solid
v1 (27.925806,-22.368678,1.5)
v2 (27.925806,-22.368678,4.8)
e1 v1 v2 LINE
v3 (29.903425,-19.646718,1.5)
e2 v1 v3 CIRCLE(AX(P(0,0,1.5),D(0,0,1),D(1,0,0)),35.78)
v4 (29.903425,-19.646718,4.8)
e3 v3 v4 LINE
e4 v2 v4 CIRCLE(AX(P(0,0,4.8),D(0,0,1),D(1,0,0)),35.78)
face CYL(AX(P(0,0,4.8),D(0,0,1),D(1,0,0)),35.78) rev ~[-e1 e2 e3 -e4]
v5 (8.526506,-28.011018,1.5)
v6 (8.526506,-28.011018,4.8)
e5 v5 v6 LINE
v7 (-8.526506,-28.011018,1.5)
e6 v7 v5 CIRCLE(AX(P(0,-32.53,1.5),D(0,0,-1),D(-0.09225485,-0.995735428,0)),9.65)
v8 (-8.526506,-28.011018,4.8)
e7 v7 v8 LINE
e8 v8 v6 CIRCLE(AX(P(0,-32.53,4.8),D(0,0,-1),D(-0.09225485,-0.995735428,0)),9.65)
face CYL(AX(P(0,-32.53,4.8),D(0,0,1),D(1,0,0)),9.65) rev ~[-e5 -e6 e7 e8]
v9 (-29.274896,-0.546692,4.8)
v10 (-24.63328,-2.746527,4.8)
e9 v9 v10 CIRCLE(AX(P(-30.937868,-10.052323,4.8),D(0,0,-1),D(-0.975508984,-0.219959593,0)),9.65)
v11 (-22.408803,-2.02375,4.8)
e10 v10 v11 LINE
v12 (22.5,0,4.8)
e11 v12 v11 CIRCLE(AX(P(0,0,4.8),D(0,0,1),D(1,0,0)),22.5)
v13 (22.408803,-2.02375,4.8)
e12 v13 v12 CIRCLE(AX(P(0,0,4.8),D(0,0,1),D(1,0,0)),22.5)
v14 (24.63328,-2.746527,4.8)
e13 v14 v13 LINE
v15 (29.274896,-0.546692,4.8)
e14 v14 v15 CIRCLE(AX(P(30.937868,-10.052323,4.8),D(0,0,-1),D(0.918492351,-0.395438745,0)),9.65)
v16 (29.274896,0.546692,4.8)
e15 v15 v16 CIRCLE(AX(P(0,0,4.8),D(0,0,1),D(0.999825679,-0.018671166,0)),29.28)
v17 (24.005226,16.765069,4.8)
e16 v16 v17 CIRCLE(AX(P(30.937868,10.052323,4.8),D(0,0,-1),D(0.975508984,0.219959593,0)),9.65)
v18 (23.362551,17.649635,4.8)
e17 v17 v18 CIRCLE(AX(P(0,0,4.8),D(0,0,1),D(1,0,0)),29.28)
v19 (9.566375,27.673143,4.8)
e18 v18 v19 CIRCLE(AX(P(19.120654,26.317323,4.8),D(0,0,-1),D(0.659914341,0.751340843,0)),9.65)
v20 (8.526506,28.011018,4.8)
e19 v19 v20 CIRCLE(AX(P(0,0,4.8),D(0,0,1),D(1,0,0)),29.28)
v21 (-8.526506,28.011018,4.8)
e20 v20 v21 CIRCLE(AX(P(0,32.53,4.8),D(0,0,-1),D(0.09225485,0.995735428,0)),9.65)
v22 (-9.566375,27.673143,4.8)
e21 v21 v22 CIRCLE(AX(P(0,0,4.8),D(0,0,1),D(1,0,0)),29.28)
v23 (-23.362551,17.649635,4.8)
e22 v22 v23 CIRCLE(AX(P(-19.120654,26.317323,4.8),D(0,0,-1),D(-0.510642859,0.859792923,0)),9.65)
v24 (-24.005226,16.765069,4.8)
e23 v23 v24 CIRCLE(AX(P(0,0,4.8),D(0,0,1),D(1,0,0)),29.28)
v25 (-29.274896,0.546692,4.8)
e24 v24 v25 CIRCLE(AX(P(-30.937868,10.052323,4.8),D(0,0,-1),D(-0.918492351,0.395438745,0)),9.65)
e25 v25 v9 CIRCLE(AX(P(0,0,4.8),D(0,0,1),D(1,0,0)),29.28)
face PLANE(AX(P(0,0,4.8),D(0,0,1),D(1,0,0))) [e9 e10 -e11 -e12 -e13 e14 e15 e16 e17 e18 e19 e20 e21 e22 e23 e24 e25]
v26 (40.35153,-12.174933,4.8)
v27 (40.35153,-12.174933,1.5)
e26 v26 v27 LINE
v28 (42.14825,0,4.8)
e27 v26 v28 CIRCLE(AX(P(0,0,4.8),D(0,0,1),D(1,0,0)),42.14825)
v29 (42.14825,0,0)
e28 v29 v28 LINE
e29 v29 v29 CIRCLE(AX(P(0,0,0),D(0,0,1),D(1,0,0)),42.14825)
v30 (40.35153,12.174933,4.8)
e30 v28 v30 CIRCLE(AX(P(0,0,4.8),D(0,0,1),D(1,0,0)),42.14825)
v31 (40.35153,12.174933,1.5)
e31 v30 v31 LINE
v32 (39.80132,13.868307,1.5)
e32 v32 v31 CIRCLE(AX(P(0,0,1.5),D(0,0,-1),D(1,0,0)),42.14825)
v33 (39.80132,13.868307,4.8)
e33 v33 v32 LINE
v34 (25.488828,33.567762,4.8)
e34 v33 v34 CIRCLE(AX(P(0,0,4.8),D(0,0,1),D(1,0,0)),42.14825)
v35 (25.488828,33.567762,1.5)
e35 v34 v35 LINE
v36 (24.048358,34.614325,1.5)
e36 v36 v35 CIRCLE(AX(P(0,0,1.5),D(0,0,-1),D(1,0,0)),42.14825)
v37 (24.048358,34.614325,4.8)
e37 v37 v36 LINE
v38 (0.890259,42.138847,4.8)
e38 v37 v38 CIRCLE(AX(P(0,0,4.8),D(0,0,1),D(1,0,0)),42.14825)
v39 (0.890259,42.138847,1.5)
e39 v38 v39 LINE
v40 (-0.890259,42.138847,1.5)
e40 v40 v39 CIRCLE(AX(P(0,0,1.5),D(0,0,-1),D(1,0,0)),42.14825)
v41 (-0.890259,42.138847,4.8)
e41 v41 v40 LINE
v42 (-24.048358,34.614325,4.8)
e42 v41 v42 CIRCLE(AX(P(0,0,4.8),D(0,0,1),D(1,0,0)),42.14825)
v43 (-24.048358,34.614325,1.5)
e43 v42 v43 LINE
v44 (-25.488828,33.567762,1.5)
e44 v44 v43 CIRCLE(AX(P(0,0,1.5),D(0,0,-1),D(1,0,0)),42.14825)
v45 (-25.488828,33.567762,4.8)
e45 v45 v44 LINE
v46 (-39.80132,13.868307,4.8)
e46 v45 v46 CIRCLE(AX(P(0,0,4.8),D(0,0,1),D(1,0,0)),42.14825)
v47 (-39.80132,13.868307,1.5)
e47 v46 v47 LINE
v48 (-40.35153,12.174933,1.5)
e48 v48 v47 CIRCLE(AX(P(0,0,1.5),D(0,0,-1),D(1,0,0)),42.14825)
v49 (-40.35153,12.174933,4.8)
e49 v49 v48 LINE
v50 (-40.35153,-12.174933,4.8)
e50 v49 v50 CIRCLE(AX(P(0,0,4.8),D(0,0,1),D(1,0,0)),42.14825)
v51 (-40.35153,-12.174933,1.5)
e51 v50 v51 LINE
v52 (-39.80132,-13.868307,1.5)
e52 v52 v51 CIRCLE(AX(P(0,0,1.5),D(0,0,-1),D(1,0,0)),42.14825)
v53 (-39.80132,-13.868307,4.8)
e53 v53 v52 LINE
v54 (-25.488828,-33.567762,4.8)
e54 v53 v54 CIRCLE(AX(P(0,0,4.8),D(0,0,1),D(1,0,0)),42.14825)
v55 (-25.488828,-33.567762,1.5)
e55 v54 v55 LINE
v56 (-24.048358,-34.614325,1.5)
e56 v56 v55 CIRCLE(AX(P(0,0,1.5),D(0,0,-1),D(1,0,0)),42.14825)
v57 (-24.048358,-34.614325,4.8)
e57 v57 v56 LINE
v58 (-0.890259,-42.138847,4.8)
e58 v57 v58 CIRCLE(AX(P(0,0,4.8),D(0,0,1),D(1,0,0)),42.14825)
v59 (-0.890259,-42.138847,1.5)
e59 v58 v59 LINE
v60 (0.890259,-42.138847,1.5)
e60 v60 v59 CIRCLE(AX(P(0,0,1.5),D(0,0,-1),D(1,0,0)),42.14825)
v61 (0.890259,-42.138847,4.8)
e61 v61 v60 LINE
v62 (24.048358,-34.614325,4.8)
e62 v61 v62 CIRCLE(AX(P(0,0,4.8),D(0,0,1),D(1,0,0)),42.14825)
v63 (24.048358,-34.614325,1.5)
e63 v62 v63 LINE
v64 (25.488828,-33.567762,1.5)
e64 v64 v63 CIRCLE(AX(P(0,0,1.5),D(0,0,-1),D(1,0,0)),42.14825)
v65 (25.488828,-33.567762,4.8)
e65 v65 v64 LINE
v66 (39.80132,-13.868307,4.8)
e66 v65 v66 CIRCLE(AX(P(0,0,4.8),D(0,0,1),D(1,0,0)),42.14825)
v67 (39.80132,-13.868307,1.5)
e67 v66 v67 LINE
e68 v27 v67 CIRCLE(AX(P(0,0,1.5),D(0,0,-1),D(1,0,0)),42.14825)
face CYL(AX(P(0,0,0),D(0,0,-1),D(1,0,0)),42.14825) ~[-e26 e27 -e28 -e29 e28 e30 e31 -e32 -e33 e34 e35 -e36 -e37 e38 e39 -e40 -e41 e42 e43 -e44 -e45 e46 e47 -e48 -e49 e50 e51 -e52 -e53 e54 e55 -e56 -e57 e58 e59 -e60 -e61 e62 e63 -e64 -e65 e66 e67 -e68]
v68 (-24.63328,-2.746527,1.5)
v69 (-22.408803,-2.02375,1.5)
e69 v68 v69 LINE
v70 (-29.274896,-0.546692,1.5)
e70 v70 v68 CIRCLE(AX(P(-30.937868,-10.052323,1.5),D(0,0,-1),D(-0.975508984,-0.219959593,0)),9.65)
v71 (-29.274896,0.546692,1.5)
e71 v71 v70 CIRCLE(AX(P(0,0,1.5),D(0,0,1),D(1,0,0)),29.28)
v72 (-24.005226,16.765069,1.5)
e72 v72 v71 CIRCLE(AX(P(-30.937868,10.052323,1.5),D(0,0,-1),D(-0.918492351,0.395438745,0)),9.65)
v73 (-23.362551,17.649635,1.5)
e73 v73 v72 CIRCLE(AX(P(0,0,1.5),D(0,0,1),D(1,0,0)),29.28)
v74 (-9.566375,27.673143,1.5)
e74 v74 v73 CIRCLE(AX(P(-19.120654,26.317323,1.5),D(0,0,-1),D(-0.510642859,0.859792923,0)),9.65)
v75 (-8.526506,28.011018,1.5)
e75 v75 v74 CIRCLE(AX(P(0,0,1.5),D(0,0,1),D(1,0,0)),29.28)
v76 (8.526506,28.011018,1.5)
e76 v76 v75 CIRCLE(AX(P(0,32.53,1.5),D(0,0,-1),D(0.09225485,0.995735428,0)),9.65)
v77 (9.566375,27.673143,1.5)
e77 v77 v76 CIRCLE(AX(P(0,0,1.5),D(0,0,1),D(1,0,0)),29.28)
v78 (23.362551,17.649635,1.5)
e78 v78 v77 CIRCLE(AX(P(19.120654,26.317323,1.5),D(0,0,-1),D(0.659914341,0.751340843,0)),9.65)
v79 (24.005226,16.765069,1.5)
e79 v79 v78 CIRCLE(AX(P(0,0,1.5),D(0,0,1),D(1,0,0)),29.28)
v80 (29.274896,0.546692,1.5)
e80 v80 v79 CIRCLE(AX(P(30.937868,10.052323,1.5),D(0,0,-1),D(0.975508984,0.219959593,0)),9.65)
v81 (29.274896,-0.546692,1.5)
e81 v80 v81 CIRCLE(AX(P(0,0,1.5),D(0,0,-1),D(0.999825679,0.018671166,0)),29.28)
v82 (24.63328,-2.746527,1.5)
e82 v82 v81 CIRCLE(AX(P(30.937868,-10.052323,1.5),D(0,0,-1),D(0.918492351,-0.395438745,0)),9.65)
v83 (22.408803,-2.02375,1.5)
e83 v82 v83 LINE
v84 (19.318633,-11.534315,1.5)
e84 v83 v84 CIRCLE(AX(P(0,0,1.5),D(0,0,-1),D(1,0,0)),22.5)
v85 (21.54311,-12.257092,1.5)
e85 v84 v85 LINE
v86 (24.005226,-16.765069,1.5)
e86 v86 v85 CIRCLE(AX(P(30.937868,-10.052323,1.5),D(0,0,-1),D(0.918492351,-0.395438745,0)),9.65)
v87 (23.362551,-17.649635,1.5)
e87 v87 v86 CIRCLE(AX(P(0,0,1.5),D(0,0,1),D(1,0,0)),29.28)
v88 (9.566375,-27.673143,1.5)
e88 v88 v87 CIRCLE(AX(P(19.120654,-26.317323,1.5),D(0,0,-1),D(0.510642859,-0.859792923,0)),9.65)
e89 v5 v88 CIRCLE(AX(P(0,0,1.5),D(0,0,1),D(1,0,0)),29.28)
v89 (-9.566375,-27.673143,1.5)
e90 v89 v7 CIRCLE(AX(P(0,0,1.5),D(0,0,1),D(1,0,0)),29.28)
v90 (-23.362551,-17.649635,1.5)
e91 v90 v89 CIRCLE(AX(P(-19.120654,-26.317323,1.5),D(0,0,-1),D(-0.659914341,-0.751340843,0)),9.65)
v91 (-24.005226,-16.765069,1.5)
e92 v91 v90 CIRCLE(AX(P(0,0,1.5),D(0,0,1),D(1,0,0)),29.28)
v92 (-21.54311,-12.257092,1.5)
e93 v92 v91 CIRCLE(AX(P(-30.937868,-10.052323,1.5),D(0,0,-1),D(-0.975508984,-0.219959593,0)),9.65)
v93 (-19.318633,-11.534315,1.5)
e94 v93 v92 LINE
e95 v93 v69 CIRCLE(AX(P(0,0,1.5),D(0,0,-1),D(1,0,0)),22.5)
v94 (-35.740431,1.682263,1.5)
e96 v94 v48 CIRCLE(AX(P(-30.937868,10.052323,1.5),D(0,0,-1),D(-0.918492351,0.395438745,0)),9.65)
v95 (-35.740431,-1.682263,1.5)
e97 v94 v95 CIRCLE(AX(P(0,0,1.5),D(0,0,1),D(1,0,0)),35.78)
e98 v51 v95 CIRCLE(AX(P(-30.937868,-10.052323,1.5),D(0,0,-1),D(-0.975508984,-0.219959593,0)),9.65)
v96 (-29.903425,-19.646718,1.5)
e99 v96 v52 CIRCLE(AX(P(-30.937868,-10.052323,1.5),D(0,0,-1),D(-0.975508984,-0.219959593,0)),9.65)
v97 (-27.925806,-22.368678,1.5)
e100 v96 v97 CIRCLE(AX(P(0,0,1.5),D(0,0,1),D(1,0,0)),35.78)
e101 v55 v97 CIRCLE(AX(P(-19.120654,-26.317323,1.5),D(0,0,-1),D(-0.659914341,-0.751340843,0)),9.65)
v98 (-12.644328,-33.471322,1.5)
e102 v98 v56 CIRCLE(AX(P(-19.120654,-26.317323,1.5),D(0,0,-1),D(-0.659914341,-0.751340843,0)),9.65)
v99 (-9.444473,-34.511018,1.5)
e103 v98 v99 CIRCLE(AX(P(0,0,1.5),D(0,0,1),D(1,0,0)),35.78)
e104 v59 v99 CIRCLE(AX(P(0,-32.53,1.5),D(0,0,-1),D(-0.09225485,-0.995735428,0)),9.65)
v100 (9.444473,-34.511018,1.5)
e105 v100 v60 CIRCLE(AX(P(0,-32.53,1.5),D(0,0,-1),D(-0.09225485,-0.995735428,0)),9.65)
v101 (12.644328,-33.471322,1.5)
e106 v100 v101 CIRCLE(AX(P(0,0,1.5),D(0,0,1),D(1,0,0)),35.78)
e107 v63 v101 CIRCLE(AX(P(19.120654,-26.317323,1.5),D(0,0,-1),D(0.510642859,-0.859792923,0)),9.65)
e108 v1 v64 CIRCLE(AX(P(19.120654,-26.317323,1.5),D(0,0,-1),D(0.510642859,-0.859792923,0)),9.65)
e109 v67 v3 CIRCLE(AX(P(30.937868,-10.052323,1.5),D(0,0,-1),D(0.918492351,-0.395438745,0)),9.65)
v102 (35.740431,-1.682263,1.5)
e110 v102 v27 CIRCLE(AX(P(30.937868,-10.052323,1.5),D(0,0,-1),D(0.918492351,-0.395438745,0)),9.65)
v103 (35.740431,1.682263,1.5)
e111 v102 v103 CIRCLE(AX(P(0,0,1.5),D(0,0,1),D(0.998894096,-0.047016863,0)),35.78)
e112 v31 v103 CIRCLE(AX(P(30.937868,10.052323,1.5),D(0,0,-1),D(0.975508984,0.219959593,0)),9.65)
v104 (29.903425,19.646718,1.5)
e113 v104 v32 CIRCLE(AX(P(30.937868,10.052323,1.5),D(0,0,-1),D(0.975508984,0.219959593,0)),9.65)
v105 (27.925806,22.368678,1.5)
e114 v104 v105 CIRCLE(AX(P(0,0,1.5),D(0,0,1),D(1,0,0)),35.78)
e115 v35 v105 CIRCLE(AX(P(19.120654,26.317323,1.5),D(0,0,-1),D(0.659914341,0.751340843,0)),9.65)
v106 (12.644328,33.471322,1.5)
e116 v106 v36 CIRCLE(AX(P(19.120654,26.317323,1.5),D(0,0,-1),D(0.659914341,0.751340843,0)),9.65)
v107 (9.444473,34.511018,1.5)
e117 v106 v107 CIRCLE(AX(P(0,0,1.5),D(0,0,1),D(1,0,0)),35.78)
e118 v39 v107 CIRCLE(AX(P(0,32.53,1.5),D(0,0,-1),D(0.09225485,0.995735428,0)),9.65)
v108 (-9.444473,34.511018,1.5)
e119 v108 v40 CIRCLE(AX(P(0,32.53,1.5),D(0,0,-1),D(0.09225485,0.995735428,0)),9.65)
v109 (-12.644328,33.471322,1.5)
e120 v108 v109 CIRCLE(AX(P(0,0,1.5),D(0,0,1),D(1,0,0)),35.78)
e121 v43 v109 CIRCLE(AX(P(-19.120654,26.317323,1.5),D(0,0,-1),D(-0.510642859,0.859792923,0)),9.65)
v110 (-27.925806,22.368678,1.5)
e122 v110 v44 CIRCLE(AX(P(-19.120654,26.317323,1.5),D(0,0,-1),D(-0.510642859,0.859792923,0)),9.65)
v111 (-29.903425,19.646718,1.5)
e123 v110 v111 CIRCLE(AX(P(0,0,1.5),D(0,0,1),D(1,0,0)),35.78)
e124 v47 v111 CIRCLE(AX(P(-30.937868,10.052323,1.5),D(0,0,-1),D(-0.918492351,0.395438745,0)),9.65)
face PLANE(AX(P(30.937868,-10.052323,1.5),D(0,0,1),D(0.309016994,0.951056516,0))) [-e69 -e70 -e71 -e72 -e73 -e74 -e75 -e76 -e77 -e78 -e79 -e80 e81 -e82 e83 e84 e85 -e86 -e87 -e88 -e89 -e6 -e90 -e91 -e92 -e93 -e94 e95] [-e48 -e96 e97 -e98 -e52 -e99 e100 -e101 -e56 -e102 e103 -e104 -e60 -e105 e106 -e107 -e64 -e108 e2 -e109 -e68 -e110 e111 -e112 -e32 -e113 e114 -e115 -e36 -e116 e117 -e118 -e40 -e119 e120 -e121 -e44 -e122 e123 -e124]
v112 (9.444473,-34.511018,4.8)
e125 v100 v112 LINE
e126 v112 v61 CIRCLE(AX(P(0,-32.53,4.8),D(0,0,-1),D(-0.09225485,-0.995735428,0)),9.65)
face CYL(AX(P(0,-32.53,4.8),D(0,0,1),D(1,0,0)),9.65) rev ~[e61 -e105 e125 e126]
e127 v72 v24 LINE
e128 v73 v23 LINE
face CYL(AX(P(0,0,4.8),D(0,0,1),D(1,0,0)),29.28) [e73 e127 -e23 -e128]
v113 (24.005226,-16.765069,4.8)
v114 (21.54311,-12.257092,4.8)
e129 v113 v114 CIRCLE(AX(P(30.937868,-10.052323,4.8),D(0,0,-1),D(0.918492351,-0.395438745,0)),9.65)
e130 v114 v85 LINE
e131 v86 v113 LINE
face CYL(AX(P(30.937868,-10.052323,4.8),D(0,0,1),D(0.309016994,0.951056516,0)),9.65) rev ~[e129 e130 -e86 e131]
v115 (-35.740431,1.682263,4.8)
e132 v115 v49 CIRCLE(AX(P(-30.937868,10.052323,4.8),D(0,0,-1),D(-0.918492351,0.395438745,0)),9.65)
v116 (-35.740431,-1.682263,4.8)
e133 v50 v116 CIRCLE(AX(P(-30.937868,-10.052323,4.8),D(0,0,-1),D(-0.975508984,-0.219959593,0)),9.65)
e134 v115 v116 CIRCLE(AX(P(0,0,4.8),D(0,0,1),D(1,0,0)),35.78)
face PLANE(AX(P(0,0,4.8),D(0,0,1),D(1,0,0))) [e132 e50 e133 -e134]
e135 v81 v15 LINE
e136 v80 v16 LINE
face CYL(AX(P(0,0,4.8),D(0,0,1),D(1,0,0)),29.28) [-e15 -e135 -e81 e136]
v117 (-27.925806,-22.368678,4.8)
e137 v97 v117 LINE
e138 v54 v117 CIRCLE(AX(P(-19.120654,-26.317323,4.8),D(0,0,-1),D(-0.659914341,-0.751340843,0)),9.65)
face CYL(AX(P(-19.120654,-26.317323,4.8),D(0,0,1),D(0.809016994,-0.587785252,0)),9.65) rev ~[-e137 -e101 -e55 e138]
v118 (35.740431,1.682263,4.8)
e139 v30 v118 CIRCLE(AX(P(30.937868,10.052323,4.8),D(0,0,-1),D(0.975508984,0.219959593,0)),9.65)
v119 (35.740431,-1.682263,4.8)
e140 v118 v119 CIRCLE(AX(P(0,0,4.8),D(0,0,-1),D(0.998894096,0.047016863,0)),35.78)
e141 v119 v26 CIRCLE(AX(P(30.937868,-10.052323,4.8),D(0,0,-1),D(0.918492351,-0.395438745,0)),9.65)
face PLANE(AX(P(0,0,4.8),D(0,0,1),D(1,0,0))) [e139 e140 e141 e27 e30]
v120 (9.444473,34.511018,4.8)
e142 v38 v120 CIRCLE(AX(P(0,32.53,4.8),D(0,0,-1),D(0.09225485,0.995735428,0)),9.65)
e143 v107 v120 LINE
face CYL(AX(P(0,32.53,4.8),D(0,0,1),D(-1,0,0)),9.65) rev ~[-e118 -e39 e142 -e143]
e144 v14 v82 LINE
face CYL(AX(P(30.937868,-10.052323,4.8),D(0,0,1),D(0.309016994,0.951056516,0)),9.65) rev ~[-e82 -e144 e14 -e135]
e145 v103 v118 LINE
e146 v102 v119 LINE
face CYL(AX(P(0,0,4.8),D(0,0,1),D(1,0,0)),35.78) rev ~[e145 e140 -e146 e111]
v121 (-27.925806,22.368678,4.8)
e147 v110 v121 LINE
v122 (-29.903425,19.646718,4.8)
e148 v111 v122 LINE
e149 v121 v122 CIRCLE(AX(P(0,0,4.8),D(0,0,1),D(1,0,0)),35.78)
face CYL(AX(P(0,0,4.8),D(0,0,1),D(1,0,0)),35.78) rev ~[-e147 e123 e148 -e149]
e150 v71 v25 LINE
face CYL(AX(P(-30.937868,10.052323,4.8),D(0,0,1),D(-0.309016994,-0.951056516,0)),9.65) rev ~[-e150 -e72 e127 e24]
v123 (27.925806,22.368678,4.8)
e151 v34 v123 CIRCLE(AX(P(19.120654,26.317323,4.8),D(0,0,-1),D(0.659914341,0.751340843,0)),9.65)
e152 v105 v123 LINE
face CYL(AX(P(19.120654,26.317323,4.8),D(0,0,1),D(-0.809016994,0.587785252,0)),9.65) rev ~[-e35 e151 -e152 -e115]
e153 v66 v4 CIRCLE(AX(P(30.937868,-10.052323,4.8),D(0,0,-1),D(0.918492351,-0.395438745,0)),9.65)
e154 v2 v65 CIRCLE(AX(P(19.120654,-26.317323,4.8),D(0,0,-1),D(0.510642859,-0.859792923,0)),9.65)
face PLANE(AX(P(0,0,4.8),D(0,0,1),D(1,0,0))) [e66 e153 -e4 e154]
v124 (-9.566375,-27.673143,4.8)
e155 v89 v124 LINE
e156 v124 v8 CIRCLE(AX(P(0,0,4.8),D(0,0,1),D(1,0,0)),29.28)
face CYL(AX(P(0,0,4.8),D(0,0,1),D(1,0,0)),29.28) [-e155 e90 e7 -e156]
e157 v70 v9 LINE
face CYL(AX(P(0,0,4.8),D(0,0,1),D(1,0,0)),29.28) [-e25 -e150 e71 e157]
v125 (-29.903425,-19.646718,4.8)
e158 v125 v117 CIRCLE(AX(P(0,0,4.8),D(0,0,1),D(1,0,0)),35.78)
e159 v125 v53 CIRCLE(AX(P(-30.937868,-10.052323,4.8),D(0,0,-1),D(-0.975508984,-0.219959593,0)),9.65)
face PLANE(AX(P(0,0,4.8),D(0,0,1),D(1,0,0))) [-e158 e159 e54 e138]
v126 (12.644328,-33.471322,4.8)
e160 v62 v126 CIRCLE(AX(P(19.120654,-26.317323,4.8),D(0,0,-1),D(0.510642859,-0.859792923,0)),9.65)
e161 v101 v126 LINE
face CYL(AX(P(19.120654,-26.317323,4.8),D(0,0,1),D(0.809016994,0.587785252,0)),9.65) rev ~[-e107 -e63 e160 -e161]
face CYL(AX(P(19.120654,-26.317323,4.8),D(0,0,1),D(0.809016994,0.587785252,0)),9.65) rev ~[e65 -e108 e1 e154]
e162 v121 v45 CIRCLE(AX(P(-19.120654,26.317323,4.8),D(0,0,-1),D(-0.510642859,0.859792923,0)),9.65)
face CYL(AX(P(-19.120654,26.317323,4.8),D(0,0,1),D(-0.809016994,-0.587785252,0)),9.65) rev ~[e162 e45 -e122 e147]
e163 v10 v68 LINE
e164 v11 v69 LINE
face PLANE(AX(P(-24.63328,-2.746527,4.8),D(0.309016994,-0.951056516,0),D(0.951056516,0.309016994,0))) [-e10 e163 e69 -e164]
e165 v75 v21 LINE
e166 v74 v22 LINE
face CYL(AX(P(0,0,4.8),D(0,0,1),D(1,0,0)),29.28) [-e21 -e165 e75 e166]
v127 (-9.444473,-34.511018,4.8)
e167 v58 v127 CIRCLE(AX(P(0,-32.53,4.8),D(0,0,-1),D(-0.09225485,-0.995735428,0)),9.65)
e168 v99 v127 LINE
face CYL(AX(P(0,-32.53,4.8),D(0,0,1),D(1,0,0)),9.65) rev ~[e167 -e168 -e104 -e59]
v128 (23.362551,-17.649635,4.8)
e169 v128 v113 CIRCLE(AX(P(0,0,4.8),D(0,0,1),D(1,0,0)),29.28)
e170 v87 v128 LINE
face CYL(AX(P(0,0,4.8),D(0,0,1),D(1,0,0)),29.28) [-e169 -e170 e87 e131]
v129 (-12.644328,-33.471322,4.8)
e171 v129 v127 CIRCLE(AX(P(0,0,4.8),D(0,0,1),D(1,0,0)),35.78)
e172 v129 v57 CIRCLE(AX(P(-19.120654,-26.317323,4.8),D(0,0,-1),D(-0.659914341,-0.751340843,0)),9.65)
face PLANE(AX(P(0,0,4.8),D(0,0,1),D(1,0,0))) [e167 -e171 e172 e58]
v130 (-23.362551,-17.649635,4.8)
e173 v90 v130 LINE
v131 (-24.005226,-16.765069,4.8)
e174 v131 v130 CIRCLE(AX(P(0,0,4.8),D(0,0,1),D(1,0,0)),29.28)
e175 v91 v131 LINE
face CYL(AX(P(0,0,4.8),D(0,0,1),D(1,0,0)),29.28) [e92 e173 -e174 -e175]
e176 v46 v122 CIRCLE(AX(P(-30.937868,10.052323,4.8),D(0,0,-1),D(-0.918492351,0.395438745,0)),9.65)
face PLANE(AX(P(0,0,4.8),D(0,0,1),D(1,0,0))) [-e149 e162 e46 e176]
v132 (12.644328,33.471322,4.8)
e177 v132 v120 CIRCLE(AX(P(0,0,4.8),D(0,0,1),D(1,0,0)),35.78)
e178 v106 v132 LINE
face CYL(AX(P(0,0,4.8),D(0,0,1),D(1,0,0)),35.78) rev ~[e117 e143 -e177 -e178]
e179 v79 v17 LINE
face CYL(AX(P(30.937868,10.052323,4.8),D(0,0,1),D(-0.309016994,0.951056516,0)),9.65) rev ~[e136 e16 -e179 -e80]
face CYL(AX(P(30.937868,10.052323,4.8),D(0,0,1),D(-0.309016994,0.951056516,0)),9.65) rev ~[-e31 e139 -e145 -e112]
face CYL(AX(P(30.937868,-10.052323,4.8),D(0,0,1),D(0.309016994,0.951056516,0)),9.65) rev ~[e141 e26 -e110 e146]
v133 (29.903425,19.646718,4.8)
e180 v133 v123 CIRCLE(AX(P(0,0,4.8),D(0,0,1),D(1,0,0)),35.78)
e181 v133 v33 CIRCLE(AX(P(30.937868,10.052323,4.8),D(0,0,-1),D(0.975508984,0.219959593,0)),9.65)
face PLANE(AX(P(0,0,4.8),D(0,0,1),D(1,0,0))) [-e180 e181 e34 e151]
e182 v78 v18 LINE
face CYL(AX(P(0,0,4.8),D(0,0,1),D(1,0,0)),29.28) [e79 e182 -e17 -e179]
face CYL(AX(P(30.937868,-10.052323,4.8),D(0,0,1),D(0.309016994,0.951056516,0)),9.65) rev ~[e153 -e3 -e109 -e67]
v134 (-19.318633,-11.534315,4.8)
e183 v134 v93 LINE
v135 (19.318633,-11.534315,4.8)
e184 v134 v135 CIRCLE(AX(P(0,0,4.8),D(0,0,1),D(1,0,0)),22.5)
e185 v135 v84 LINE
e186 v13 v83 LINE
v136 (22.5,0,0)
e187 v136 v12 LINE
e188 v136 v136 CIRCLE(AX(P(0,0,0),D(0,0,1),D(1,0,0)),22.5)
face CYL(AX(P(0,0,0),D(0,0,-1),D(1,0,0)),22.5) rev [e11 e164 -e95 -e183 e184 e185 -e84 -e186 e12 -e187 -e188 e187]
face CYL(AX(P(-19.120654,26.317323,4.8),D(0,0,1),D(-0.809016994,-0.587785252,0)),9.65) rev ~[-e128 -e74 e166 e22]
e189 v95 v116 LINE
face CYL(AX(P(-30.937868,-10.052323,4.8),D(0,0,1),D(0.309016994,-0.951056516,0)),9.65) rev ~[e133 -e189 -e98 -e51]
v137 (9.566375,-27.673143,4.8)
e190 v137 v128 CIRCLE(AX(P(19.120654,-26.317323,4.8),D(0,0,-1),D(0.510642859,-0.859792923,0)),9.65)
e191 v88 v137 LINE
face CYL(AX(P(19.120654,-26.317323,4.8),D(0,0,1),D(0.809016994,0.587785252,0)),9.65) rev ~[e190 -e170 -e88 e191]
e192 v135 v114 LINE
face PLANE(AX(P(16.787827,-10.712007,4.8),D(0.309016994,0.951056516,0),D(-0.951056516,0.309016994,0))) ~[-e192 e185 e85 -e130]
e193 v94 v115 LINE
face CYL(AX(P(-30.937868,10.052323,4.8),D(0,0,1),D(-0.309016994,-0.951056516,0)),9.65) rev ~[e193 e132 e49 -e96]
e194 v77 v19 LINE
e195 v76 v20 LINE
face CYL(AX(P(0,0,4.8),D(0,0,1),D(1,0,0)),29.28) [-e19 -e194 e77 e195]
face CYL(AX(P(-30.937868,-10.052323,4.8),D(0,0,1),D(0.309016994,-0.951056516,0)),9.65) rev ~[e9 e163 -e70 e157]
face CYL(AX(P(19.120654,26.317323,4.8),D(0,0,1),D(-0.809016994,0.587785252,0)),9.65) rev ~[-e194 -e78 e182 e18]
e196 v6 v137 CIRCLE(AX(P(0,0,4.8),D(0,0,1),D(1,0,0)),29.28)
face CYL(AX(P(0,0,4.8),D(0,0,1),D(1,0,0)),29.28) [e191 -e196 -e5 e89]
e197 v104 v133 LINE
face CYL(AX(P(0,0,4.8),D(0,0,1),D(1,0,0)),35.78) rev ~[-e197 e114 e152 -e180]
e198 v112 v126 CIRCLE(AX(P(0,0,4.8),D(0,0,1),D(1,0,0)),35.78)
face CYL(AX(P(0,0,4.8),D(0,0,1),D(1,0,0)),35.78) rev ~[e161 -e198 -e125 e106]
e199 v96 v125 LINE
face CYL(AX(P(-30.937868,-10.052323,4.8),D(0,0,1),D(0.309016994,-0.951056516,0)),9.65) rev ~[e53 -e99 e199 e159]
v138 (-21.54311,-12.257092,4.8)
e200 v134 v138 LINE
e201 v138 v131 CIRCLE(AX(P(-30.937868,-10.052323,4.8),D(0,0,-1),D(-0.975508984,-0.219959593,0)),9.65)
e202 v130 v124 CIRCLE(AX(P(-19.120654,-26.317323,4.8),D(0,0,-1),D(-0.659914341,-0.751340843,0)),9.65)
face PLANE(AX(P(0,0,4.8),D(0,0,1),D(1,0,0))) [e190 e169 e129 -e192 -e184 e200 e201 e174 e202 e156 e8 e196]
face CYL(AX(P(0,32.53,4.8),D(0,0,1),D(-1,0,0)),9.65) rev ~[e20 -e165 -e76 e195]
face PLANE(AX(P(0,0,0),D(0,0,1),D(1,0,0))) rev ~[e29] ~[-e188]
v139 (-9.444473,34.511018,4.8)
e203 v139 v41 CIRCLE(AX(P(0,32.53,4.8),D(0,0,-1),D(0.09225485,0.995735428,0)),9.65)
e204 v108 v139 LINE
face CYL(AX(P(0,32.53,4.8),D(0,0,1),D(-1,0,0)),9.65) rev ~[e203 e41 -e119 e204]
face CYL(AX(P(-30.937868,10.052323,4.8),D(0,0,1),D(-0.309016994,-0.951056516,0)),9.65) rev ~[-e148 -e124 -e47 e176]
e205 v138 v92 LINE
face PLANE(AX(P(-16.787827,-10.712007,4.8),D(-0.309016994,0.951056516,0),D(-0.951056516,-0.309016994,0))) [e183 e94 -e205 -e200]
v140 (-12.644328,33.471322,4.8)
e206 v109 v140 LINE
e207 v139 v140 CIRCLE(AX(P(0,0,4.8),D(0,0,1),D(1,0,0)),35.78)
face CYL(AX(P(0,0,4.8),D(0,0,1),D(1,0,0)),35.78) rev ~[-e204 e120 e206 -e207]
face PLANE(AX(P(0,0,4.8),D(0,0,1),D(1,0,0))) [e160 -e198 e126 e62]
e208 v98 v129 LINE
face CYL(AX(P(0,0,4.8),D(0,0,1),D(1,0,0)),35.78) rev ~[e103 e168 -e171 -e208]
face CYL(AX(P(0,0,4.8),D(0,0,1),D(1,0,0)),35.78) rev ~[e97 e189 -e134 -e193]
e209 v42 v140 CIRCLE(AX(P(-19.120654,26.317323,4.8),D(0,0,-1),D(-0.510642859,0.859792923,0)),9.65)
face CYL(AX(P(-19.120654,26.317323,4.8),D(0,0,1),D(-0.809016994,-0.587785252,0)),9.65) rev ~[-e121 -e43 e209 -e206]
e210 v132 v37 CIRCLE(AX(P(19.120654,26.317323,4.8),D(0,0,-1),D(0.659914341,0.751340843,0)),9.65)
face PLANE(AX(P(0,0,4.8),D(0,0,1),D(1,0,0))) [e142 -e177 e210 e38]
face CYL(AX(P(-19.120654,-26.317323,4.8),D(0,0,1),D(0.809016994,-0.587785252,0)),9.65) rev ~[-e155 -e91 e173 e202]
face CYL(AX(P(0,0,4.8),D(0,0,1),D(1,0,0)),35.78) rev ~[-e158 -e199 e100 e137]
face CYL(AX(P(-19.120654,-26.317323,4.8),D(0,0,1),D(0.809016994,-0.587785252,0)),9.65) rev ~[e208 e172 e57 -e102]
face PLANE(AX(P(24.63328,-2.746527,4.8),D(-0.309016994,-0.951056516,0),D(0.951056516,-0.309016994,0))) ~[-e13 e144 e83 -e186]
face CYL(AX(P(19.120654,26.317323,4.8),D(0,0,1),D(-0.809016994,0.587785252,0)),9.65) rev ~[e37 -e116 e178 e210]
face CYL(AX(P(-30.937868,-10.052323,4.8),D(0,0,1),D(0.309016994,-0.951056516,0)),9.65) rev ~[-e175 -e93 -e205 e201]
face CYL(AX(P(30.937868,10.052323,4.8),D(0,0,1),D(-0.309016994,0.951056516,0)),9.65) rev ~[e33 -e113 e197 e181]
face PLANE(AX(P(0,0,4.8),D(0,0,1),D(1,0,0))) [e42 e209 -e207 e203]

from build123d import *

# Parameters (mm, degrees)
SKETCH1_R                  = 42.14825
SKETCH1_R_2                = 22.5
BASIC_SHAPE_DEPTH          = 4.8
SKETCH2_R                  = 9.65
BATTERY_SLOT_DEPTH         = 3.3
BATTERY_SLOT_PATTERN_COUNT = 10
SKETCH3_R                  = 35.78
SKETCH3_R_2                = 29.28
BUS_SLOT_DEPTH             = 3.3
WIRE_SLIT_DEPTH            = 3.3


with BuildPart() as part:
    # Sketch1 → Basic Shape (new body)
    with BuildSketch(Plane.XY):
        Circle(SKETCH1_R)
        Circle(SKETCH1_R_2, mode=Mode.SUBTRACT)
    extrude(amount=BASIC_SHAPE_DEPTH)

    # Sketch2 → Battery Slot (cut)
    with BuildSketch(Plane.XY.offset(4.8)):
        with Locations((0, -32.53)):
            Circle(SKETCH2_R)
    battery_slot = extrude(amount=-BATTERY_SLOT_DEPTH, mode=Mode.SUBTRACT)

    # Battery Slot Pattern: Battery Slot ×10 about axis
    battery_slot_pattern_axis = Axis((0, 0, 0), (0, 0, 1))
    for i in range(1, BATTERY_SLOT_PATTERN_COUNT):
        add(battery_slot.rotate(battery_slot_pattern_axis, i * 360 / BATTERY_SLOT_PATTERN_COUNT), mode=Mode.SUBTRACT)

    # Sketch3 → Bus Slot (cut)
    with BuildSketch(Plane.XY.offset(4.8)):
        Circle(SKETCH3_R)
        Circle(SKETCH3_R_2, mode=Mode.SUBTRACT)
    extrude(amount=-BUS_SLOT_DEPTH, mode=Mode.SUBTRACT)

    # Sketch4 → Wire Slit (cut)
    with BuildSketch(Plane.XY.offset(4.8)):
        with BuildLine():
            Line((-24.633279562, -2.746526591), (-19.877996981, -1.201441619))
            Line((-19.877996981, -1.201441619), (-16.787827037, -10.712006782))
            Line((-16.787827037, -10.712006782), (-21.543109618, -12.257091754))
            ThreePointArc((-21.543109618, -12.257091754), (-21.760173093, -7.070308831), (-24.633279562, -2.746526591))
        make_face()
    wire_slit = extrude(amount=-WIRE_SLIT_DEPTH, mode=Mode.SUBTRACT)

    # Wire Slit Mirror: Wire Slit across plane
    add(wire_slit.mirror(Plane(origin=(0, 0, 0), x_dir=(0, 0, 1), z_dir=(1, 0, 0))), mode=Mode.SUBTRACT)


solid = part.part
